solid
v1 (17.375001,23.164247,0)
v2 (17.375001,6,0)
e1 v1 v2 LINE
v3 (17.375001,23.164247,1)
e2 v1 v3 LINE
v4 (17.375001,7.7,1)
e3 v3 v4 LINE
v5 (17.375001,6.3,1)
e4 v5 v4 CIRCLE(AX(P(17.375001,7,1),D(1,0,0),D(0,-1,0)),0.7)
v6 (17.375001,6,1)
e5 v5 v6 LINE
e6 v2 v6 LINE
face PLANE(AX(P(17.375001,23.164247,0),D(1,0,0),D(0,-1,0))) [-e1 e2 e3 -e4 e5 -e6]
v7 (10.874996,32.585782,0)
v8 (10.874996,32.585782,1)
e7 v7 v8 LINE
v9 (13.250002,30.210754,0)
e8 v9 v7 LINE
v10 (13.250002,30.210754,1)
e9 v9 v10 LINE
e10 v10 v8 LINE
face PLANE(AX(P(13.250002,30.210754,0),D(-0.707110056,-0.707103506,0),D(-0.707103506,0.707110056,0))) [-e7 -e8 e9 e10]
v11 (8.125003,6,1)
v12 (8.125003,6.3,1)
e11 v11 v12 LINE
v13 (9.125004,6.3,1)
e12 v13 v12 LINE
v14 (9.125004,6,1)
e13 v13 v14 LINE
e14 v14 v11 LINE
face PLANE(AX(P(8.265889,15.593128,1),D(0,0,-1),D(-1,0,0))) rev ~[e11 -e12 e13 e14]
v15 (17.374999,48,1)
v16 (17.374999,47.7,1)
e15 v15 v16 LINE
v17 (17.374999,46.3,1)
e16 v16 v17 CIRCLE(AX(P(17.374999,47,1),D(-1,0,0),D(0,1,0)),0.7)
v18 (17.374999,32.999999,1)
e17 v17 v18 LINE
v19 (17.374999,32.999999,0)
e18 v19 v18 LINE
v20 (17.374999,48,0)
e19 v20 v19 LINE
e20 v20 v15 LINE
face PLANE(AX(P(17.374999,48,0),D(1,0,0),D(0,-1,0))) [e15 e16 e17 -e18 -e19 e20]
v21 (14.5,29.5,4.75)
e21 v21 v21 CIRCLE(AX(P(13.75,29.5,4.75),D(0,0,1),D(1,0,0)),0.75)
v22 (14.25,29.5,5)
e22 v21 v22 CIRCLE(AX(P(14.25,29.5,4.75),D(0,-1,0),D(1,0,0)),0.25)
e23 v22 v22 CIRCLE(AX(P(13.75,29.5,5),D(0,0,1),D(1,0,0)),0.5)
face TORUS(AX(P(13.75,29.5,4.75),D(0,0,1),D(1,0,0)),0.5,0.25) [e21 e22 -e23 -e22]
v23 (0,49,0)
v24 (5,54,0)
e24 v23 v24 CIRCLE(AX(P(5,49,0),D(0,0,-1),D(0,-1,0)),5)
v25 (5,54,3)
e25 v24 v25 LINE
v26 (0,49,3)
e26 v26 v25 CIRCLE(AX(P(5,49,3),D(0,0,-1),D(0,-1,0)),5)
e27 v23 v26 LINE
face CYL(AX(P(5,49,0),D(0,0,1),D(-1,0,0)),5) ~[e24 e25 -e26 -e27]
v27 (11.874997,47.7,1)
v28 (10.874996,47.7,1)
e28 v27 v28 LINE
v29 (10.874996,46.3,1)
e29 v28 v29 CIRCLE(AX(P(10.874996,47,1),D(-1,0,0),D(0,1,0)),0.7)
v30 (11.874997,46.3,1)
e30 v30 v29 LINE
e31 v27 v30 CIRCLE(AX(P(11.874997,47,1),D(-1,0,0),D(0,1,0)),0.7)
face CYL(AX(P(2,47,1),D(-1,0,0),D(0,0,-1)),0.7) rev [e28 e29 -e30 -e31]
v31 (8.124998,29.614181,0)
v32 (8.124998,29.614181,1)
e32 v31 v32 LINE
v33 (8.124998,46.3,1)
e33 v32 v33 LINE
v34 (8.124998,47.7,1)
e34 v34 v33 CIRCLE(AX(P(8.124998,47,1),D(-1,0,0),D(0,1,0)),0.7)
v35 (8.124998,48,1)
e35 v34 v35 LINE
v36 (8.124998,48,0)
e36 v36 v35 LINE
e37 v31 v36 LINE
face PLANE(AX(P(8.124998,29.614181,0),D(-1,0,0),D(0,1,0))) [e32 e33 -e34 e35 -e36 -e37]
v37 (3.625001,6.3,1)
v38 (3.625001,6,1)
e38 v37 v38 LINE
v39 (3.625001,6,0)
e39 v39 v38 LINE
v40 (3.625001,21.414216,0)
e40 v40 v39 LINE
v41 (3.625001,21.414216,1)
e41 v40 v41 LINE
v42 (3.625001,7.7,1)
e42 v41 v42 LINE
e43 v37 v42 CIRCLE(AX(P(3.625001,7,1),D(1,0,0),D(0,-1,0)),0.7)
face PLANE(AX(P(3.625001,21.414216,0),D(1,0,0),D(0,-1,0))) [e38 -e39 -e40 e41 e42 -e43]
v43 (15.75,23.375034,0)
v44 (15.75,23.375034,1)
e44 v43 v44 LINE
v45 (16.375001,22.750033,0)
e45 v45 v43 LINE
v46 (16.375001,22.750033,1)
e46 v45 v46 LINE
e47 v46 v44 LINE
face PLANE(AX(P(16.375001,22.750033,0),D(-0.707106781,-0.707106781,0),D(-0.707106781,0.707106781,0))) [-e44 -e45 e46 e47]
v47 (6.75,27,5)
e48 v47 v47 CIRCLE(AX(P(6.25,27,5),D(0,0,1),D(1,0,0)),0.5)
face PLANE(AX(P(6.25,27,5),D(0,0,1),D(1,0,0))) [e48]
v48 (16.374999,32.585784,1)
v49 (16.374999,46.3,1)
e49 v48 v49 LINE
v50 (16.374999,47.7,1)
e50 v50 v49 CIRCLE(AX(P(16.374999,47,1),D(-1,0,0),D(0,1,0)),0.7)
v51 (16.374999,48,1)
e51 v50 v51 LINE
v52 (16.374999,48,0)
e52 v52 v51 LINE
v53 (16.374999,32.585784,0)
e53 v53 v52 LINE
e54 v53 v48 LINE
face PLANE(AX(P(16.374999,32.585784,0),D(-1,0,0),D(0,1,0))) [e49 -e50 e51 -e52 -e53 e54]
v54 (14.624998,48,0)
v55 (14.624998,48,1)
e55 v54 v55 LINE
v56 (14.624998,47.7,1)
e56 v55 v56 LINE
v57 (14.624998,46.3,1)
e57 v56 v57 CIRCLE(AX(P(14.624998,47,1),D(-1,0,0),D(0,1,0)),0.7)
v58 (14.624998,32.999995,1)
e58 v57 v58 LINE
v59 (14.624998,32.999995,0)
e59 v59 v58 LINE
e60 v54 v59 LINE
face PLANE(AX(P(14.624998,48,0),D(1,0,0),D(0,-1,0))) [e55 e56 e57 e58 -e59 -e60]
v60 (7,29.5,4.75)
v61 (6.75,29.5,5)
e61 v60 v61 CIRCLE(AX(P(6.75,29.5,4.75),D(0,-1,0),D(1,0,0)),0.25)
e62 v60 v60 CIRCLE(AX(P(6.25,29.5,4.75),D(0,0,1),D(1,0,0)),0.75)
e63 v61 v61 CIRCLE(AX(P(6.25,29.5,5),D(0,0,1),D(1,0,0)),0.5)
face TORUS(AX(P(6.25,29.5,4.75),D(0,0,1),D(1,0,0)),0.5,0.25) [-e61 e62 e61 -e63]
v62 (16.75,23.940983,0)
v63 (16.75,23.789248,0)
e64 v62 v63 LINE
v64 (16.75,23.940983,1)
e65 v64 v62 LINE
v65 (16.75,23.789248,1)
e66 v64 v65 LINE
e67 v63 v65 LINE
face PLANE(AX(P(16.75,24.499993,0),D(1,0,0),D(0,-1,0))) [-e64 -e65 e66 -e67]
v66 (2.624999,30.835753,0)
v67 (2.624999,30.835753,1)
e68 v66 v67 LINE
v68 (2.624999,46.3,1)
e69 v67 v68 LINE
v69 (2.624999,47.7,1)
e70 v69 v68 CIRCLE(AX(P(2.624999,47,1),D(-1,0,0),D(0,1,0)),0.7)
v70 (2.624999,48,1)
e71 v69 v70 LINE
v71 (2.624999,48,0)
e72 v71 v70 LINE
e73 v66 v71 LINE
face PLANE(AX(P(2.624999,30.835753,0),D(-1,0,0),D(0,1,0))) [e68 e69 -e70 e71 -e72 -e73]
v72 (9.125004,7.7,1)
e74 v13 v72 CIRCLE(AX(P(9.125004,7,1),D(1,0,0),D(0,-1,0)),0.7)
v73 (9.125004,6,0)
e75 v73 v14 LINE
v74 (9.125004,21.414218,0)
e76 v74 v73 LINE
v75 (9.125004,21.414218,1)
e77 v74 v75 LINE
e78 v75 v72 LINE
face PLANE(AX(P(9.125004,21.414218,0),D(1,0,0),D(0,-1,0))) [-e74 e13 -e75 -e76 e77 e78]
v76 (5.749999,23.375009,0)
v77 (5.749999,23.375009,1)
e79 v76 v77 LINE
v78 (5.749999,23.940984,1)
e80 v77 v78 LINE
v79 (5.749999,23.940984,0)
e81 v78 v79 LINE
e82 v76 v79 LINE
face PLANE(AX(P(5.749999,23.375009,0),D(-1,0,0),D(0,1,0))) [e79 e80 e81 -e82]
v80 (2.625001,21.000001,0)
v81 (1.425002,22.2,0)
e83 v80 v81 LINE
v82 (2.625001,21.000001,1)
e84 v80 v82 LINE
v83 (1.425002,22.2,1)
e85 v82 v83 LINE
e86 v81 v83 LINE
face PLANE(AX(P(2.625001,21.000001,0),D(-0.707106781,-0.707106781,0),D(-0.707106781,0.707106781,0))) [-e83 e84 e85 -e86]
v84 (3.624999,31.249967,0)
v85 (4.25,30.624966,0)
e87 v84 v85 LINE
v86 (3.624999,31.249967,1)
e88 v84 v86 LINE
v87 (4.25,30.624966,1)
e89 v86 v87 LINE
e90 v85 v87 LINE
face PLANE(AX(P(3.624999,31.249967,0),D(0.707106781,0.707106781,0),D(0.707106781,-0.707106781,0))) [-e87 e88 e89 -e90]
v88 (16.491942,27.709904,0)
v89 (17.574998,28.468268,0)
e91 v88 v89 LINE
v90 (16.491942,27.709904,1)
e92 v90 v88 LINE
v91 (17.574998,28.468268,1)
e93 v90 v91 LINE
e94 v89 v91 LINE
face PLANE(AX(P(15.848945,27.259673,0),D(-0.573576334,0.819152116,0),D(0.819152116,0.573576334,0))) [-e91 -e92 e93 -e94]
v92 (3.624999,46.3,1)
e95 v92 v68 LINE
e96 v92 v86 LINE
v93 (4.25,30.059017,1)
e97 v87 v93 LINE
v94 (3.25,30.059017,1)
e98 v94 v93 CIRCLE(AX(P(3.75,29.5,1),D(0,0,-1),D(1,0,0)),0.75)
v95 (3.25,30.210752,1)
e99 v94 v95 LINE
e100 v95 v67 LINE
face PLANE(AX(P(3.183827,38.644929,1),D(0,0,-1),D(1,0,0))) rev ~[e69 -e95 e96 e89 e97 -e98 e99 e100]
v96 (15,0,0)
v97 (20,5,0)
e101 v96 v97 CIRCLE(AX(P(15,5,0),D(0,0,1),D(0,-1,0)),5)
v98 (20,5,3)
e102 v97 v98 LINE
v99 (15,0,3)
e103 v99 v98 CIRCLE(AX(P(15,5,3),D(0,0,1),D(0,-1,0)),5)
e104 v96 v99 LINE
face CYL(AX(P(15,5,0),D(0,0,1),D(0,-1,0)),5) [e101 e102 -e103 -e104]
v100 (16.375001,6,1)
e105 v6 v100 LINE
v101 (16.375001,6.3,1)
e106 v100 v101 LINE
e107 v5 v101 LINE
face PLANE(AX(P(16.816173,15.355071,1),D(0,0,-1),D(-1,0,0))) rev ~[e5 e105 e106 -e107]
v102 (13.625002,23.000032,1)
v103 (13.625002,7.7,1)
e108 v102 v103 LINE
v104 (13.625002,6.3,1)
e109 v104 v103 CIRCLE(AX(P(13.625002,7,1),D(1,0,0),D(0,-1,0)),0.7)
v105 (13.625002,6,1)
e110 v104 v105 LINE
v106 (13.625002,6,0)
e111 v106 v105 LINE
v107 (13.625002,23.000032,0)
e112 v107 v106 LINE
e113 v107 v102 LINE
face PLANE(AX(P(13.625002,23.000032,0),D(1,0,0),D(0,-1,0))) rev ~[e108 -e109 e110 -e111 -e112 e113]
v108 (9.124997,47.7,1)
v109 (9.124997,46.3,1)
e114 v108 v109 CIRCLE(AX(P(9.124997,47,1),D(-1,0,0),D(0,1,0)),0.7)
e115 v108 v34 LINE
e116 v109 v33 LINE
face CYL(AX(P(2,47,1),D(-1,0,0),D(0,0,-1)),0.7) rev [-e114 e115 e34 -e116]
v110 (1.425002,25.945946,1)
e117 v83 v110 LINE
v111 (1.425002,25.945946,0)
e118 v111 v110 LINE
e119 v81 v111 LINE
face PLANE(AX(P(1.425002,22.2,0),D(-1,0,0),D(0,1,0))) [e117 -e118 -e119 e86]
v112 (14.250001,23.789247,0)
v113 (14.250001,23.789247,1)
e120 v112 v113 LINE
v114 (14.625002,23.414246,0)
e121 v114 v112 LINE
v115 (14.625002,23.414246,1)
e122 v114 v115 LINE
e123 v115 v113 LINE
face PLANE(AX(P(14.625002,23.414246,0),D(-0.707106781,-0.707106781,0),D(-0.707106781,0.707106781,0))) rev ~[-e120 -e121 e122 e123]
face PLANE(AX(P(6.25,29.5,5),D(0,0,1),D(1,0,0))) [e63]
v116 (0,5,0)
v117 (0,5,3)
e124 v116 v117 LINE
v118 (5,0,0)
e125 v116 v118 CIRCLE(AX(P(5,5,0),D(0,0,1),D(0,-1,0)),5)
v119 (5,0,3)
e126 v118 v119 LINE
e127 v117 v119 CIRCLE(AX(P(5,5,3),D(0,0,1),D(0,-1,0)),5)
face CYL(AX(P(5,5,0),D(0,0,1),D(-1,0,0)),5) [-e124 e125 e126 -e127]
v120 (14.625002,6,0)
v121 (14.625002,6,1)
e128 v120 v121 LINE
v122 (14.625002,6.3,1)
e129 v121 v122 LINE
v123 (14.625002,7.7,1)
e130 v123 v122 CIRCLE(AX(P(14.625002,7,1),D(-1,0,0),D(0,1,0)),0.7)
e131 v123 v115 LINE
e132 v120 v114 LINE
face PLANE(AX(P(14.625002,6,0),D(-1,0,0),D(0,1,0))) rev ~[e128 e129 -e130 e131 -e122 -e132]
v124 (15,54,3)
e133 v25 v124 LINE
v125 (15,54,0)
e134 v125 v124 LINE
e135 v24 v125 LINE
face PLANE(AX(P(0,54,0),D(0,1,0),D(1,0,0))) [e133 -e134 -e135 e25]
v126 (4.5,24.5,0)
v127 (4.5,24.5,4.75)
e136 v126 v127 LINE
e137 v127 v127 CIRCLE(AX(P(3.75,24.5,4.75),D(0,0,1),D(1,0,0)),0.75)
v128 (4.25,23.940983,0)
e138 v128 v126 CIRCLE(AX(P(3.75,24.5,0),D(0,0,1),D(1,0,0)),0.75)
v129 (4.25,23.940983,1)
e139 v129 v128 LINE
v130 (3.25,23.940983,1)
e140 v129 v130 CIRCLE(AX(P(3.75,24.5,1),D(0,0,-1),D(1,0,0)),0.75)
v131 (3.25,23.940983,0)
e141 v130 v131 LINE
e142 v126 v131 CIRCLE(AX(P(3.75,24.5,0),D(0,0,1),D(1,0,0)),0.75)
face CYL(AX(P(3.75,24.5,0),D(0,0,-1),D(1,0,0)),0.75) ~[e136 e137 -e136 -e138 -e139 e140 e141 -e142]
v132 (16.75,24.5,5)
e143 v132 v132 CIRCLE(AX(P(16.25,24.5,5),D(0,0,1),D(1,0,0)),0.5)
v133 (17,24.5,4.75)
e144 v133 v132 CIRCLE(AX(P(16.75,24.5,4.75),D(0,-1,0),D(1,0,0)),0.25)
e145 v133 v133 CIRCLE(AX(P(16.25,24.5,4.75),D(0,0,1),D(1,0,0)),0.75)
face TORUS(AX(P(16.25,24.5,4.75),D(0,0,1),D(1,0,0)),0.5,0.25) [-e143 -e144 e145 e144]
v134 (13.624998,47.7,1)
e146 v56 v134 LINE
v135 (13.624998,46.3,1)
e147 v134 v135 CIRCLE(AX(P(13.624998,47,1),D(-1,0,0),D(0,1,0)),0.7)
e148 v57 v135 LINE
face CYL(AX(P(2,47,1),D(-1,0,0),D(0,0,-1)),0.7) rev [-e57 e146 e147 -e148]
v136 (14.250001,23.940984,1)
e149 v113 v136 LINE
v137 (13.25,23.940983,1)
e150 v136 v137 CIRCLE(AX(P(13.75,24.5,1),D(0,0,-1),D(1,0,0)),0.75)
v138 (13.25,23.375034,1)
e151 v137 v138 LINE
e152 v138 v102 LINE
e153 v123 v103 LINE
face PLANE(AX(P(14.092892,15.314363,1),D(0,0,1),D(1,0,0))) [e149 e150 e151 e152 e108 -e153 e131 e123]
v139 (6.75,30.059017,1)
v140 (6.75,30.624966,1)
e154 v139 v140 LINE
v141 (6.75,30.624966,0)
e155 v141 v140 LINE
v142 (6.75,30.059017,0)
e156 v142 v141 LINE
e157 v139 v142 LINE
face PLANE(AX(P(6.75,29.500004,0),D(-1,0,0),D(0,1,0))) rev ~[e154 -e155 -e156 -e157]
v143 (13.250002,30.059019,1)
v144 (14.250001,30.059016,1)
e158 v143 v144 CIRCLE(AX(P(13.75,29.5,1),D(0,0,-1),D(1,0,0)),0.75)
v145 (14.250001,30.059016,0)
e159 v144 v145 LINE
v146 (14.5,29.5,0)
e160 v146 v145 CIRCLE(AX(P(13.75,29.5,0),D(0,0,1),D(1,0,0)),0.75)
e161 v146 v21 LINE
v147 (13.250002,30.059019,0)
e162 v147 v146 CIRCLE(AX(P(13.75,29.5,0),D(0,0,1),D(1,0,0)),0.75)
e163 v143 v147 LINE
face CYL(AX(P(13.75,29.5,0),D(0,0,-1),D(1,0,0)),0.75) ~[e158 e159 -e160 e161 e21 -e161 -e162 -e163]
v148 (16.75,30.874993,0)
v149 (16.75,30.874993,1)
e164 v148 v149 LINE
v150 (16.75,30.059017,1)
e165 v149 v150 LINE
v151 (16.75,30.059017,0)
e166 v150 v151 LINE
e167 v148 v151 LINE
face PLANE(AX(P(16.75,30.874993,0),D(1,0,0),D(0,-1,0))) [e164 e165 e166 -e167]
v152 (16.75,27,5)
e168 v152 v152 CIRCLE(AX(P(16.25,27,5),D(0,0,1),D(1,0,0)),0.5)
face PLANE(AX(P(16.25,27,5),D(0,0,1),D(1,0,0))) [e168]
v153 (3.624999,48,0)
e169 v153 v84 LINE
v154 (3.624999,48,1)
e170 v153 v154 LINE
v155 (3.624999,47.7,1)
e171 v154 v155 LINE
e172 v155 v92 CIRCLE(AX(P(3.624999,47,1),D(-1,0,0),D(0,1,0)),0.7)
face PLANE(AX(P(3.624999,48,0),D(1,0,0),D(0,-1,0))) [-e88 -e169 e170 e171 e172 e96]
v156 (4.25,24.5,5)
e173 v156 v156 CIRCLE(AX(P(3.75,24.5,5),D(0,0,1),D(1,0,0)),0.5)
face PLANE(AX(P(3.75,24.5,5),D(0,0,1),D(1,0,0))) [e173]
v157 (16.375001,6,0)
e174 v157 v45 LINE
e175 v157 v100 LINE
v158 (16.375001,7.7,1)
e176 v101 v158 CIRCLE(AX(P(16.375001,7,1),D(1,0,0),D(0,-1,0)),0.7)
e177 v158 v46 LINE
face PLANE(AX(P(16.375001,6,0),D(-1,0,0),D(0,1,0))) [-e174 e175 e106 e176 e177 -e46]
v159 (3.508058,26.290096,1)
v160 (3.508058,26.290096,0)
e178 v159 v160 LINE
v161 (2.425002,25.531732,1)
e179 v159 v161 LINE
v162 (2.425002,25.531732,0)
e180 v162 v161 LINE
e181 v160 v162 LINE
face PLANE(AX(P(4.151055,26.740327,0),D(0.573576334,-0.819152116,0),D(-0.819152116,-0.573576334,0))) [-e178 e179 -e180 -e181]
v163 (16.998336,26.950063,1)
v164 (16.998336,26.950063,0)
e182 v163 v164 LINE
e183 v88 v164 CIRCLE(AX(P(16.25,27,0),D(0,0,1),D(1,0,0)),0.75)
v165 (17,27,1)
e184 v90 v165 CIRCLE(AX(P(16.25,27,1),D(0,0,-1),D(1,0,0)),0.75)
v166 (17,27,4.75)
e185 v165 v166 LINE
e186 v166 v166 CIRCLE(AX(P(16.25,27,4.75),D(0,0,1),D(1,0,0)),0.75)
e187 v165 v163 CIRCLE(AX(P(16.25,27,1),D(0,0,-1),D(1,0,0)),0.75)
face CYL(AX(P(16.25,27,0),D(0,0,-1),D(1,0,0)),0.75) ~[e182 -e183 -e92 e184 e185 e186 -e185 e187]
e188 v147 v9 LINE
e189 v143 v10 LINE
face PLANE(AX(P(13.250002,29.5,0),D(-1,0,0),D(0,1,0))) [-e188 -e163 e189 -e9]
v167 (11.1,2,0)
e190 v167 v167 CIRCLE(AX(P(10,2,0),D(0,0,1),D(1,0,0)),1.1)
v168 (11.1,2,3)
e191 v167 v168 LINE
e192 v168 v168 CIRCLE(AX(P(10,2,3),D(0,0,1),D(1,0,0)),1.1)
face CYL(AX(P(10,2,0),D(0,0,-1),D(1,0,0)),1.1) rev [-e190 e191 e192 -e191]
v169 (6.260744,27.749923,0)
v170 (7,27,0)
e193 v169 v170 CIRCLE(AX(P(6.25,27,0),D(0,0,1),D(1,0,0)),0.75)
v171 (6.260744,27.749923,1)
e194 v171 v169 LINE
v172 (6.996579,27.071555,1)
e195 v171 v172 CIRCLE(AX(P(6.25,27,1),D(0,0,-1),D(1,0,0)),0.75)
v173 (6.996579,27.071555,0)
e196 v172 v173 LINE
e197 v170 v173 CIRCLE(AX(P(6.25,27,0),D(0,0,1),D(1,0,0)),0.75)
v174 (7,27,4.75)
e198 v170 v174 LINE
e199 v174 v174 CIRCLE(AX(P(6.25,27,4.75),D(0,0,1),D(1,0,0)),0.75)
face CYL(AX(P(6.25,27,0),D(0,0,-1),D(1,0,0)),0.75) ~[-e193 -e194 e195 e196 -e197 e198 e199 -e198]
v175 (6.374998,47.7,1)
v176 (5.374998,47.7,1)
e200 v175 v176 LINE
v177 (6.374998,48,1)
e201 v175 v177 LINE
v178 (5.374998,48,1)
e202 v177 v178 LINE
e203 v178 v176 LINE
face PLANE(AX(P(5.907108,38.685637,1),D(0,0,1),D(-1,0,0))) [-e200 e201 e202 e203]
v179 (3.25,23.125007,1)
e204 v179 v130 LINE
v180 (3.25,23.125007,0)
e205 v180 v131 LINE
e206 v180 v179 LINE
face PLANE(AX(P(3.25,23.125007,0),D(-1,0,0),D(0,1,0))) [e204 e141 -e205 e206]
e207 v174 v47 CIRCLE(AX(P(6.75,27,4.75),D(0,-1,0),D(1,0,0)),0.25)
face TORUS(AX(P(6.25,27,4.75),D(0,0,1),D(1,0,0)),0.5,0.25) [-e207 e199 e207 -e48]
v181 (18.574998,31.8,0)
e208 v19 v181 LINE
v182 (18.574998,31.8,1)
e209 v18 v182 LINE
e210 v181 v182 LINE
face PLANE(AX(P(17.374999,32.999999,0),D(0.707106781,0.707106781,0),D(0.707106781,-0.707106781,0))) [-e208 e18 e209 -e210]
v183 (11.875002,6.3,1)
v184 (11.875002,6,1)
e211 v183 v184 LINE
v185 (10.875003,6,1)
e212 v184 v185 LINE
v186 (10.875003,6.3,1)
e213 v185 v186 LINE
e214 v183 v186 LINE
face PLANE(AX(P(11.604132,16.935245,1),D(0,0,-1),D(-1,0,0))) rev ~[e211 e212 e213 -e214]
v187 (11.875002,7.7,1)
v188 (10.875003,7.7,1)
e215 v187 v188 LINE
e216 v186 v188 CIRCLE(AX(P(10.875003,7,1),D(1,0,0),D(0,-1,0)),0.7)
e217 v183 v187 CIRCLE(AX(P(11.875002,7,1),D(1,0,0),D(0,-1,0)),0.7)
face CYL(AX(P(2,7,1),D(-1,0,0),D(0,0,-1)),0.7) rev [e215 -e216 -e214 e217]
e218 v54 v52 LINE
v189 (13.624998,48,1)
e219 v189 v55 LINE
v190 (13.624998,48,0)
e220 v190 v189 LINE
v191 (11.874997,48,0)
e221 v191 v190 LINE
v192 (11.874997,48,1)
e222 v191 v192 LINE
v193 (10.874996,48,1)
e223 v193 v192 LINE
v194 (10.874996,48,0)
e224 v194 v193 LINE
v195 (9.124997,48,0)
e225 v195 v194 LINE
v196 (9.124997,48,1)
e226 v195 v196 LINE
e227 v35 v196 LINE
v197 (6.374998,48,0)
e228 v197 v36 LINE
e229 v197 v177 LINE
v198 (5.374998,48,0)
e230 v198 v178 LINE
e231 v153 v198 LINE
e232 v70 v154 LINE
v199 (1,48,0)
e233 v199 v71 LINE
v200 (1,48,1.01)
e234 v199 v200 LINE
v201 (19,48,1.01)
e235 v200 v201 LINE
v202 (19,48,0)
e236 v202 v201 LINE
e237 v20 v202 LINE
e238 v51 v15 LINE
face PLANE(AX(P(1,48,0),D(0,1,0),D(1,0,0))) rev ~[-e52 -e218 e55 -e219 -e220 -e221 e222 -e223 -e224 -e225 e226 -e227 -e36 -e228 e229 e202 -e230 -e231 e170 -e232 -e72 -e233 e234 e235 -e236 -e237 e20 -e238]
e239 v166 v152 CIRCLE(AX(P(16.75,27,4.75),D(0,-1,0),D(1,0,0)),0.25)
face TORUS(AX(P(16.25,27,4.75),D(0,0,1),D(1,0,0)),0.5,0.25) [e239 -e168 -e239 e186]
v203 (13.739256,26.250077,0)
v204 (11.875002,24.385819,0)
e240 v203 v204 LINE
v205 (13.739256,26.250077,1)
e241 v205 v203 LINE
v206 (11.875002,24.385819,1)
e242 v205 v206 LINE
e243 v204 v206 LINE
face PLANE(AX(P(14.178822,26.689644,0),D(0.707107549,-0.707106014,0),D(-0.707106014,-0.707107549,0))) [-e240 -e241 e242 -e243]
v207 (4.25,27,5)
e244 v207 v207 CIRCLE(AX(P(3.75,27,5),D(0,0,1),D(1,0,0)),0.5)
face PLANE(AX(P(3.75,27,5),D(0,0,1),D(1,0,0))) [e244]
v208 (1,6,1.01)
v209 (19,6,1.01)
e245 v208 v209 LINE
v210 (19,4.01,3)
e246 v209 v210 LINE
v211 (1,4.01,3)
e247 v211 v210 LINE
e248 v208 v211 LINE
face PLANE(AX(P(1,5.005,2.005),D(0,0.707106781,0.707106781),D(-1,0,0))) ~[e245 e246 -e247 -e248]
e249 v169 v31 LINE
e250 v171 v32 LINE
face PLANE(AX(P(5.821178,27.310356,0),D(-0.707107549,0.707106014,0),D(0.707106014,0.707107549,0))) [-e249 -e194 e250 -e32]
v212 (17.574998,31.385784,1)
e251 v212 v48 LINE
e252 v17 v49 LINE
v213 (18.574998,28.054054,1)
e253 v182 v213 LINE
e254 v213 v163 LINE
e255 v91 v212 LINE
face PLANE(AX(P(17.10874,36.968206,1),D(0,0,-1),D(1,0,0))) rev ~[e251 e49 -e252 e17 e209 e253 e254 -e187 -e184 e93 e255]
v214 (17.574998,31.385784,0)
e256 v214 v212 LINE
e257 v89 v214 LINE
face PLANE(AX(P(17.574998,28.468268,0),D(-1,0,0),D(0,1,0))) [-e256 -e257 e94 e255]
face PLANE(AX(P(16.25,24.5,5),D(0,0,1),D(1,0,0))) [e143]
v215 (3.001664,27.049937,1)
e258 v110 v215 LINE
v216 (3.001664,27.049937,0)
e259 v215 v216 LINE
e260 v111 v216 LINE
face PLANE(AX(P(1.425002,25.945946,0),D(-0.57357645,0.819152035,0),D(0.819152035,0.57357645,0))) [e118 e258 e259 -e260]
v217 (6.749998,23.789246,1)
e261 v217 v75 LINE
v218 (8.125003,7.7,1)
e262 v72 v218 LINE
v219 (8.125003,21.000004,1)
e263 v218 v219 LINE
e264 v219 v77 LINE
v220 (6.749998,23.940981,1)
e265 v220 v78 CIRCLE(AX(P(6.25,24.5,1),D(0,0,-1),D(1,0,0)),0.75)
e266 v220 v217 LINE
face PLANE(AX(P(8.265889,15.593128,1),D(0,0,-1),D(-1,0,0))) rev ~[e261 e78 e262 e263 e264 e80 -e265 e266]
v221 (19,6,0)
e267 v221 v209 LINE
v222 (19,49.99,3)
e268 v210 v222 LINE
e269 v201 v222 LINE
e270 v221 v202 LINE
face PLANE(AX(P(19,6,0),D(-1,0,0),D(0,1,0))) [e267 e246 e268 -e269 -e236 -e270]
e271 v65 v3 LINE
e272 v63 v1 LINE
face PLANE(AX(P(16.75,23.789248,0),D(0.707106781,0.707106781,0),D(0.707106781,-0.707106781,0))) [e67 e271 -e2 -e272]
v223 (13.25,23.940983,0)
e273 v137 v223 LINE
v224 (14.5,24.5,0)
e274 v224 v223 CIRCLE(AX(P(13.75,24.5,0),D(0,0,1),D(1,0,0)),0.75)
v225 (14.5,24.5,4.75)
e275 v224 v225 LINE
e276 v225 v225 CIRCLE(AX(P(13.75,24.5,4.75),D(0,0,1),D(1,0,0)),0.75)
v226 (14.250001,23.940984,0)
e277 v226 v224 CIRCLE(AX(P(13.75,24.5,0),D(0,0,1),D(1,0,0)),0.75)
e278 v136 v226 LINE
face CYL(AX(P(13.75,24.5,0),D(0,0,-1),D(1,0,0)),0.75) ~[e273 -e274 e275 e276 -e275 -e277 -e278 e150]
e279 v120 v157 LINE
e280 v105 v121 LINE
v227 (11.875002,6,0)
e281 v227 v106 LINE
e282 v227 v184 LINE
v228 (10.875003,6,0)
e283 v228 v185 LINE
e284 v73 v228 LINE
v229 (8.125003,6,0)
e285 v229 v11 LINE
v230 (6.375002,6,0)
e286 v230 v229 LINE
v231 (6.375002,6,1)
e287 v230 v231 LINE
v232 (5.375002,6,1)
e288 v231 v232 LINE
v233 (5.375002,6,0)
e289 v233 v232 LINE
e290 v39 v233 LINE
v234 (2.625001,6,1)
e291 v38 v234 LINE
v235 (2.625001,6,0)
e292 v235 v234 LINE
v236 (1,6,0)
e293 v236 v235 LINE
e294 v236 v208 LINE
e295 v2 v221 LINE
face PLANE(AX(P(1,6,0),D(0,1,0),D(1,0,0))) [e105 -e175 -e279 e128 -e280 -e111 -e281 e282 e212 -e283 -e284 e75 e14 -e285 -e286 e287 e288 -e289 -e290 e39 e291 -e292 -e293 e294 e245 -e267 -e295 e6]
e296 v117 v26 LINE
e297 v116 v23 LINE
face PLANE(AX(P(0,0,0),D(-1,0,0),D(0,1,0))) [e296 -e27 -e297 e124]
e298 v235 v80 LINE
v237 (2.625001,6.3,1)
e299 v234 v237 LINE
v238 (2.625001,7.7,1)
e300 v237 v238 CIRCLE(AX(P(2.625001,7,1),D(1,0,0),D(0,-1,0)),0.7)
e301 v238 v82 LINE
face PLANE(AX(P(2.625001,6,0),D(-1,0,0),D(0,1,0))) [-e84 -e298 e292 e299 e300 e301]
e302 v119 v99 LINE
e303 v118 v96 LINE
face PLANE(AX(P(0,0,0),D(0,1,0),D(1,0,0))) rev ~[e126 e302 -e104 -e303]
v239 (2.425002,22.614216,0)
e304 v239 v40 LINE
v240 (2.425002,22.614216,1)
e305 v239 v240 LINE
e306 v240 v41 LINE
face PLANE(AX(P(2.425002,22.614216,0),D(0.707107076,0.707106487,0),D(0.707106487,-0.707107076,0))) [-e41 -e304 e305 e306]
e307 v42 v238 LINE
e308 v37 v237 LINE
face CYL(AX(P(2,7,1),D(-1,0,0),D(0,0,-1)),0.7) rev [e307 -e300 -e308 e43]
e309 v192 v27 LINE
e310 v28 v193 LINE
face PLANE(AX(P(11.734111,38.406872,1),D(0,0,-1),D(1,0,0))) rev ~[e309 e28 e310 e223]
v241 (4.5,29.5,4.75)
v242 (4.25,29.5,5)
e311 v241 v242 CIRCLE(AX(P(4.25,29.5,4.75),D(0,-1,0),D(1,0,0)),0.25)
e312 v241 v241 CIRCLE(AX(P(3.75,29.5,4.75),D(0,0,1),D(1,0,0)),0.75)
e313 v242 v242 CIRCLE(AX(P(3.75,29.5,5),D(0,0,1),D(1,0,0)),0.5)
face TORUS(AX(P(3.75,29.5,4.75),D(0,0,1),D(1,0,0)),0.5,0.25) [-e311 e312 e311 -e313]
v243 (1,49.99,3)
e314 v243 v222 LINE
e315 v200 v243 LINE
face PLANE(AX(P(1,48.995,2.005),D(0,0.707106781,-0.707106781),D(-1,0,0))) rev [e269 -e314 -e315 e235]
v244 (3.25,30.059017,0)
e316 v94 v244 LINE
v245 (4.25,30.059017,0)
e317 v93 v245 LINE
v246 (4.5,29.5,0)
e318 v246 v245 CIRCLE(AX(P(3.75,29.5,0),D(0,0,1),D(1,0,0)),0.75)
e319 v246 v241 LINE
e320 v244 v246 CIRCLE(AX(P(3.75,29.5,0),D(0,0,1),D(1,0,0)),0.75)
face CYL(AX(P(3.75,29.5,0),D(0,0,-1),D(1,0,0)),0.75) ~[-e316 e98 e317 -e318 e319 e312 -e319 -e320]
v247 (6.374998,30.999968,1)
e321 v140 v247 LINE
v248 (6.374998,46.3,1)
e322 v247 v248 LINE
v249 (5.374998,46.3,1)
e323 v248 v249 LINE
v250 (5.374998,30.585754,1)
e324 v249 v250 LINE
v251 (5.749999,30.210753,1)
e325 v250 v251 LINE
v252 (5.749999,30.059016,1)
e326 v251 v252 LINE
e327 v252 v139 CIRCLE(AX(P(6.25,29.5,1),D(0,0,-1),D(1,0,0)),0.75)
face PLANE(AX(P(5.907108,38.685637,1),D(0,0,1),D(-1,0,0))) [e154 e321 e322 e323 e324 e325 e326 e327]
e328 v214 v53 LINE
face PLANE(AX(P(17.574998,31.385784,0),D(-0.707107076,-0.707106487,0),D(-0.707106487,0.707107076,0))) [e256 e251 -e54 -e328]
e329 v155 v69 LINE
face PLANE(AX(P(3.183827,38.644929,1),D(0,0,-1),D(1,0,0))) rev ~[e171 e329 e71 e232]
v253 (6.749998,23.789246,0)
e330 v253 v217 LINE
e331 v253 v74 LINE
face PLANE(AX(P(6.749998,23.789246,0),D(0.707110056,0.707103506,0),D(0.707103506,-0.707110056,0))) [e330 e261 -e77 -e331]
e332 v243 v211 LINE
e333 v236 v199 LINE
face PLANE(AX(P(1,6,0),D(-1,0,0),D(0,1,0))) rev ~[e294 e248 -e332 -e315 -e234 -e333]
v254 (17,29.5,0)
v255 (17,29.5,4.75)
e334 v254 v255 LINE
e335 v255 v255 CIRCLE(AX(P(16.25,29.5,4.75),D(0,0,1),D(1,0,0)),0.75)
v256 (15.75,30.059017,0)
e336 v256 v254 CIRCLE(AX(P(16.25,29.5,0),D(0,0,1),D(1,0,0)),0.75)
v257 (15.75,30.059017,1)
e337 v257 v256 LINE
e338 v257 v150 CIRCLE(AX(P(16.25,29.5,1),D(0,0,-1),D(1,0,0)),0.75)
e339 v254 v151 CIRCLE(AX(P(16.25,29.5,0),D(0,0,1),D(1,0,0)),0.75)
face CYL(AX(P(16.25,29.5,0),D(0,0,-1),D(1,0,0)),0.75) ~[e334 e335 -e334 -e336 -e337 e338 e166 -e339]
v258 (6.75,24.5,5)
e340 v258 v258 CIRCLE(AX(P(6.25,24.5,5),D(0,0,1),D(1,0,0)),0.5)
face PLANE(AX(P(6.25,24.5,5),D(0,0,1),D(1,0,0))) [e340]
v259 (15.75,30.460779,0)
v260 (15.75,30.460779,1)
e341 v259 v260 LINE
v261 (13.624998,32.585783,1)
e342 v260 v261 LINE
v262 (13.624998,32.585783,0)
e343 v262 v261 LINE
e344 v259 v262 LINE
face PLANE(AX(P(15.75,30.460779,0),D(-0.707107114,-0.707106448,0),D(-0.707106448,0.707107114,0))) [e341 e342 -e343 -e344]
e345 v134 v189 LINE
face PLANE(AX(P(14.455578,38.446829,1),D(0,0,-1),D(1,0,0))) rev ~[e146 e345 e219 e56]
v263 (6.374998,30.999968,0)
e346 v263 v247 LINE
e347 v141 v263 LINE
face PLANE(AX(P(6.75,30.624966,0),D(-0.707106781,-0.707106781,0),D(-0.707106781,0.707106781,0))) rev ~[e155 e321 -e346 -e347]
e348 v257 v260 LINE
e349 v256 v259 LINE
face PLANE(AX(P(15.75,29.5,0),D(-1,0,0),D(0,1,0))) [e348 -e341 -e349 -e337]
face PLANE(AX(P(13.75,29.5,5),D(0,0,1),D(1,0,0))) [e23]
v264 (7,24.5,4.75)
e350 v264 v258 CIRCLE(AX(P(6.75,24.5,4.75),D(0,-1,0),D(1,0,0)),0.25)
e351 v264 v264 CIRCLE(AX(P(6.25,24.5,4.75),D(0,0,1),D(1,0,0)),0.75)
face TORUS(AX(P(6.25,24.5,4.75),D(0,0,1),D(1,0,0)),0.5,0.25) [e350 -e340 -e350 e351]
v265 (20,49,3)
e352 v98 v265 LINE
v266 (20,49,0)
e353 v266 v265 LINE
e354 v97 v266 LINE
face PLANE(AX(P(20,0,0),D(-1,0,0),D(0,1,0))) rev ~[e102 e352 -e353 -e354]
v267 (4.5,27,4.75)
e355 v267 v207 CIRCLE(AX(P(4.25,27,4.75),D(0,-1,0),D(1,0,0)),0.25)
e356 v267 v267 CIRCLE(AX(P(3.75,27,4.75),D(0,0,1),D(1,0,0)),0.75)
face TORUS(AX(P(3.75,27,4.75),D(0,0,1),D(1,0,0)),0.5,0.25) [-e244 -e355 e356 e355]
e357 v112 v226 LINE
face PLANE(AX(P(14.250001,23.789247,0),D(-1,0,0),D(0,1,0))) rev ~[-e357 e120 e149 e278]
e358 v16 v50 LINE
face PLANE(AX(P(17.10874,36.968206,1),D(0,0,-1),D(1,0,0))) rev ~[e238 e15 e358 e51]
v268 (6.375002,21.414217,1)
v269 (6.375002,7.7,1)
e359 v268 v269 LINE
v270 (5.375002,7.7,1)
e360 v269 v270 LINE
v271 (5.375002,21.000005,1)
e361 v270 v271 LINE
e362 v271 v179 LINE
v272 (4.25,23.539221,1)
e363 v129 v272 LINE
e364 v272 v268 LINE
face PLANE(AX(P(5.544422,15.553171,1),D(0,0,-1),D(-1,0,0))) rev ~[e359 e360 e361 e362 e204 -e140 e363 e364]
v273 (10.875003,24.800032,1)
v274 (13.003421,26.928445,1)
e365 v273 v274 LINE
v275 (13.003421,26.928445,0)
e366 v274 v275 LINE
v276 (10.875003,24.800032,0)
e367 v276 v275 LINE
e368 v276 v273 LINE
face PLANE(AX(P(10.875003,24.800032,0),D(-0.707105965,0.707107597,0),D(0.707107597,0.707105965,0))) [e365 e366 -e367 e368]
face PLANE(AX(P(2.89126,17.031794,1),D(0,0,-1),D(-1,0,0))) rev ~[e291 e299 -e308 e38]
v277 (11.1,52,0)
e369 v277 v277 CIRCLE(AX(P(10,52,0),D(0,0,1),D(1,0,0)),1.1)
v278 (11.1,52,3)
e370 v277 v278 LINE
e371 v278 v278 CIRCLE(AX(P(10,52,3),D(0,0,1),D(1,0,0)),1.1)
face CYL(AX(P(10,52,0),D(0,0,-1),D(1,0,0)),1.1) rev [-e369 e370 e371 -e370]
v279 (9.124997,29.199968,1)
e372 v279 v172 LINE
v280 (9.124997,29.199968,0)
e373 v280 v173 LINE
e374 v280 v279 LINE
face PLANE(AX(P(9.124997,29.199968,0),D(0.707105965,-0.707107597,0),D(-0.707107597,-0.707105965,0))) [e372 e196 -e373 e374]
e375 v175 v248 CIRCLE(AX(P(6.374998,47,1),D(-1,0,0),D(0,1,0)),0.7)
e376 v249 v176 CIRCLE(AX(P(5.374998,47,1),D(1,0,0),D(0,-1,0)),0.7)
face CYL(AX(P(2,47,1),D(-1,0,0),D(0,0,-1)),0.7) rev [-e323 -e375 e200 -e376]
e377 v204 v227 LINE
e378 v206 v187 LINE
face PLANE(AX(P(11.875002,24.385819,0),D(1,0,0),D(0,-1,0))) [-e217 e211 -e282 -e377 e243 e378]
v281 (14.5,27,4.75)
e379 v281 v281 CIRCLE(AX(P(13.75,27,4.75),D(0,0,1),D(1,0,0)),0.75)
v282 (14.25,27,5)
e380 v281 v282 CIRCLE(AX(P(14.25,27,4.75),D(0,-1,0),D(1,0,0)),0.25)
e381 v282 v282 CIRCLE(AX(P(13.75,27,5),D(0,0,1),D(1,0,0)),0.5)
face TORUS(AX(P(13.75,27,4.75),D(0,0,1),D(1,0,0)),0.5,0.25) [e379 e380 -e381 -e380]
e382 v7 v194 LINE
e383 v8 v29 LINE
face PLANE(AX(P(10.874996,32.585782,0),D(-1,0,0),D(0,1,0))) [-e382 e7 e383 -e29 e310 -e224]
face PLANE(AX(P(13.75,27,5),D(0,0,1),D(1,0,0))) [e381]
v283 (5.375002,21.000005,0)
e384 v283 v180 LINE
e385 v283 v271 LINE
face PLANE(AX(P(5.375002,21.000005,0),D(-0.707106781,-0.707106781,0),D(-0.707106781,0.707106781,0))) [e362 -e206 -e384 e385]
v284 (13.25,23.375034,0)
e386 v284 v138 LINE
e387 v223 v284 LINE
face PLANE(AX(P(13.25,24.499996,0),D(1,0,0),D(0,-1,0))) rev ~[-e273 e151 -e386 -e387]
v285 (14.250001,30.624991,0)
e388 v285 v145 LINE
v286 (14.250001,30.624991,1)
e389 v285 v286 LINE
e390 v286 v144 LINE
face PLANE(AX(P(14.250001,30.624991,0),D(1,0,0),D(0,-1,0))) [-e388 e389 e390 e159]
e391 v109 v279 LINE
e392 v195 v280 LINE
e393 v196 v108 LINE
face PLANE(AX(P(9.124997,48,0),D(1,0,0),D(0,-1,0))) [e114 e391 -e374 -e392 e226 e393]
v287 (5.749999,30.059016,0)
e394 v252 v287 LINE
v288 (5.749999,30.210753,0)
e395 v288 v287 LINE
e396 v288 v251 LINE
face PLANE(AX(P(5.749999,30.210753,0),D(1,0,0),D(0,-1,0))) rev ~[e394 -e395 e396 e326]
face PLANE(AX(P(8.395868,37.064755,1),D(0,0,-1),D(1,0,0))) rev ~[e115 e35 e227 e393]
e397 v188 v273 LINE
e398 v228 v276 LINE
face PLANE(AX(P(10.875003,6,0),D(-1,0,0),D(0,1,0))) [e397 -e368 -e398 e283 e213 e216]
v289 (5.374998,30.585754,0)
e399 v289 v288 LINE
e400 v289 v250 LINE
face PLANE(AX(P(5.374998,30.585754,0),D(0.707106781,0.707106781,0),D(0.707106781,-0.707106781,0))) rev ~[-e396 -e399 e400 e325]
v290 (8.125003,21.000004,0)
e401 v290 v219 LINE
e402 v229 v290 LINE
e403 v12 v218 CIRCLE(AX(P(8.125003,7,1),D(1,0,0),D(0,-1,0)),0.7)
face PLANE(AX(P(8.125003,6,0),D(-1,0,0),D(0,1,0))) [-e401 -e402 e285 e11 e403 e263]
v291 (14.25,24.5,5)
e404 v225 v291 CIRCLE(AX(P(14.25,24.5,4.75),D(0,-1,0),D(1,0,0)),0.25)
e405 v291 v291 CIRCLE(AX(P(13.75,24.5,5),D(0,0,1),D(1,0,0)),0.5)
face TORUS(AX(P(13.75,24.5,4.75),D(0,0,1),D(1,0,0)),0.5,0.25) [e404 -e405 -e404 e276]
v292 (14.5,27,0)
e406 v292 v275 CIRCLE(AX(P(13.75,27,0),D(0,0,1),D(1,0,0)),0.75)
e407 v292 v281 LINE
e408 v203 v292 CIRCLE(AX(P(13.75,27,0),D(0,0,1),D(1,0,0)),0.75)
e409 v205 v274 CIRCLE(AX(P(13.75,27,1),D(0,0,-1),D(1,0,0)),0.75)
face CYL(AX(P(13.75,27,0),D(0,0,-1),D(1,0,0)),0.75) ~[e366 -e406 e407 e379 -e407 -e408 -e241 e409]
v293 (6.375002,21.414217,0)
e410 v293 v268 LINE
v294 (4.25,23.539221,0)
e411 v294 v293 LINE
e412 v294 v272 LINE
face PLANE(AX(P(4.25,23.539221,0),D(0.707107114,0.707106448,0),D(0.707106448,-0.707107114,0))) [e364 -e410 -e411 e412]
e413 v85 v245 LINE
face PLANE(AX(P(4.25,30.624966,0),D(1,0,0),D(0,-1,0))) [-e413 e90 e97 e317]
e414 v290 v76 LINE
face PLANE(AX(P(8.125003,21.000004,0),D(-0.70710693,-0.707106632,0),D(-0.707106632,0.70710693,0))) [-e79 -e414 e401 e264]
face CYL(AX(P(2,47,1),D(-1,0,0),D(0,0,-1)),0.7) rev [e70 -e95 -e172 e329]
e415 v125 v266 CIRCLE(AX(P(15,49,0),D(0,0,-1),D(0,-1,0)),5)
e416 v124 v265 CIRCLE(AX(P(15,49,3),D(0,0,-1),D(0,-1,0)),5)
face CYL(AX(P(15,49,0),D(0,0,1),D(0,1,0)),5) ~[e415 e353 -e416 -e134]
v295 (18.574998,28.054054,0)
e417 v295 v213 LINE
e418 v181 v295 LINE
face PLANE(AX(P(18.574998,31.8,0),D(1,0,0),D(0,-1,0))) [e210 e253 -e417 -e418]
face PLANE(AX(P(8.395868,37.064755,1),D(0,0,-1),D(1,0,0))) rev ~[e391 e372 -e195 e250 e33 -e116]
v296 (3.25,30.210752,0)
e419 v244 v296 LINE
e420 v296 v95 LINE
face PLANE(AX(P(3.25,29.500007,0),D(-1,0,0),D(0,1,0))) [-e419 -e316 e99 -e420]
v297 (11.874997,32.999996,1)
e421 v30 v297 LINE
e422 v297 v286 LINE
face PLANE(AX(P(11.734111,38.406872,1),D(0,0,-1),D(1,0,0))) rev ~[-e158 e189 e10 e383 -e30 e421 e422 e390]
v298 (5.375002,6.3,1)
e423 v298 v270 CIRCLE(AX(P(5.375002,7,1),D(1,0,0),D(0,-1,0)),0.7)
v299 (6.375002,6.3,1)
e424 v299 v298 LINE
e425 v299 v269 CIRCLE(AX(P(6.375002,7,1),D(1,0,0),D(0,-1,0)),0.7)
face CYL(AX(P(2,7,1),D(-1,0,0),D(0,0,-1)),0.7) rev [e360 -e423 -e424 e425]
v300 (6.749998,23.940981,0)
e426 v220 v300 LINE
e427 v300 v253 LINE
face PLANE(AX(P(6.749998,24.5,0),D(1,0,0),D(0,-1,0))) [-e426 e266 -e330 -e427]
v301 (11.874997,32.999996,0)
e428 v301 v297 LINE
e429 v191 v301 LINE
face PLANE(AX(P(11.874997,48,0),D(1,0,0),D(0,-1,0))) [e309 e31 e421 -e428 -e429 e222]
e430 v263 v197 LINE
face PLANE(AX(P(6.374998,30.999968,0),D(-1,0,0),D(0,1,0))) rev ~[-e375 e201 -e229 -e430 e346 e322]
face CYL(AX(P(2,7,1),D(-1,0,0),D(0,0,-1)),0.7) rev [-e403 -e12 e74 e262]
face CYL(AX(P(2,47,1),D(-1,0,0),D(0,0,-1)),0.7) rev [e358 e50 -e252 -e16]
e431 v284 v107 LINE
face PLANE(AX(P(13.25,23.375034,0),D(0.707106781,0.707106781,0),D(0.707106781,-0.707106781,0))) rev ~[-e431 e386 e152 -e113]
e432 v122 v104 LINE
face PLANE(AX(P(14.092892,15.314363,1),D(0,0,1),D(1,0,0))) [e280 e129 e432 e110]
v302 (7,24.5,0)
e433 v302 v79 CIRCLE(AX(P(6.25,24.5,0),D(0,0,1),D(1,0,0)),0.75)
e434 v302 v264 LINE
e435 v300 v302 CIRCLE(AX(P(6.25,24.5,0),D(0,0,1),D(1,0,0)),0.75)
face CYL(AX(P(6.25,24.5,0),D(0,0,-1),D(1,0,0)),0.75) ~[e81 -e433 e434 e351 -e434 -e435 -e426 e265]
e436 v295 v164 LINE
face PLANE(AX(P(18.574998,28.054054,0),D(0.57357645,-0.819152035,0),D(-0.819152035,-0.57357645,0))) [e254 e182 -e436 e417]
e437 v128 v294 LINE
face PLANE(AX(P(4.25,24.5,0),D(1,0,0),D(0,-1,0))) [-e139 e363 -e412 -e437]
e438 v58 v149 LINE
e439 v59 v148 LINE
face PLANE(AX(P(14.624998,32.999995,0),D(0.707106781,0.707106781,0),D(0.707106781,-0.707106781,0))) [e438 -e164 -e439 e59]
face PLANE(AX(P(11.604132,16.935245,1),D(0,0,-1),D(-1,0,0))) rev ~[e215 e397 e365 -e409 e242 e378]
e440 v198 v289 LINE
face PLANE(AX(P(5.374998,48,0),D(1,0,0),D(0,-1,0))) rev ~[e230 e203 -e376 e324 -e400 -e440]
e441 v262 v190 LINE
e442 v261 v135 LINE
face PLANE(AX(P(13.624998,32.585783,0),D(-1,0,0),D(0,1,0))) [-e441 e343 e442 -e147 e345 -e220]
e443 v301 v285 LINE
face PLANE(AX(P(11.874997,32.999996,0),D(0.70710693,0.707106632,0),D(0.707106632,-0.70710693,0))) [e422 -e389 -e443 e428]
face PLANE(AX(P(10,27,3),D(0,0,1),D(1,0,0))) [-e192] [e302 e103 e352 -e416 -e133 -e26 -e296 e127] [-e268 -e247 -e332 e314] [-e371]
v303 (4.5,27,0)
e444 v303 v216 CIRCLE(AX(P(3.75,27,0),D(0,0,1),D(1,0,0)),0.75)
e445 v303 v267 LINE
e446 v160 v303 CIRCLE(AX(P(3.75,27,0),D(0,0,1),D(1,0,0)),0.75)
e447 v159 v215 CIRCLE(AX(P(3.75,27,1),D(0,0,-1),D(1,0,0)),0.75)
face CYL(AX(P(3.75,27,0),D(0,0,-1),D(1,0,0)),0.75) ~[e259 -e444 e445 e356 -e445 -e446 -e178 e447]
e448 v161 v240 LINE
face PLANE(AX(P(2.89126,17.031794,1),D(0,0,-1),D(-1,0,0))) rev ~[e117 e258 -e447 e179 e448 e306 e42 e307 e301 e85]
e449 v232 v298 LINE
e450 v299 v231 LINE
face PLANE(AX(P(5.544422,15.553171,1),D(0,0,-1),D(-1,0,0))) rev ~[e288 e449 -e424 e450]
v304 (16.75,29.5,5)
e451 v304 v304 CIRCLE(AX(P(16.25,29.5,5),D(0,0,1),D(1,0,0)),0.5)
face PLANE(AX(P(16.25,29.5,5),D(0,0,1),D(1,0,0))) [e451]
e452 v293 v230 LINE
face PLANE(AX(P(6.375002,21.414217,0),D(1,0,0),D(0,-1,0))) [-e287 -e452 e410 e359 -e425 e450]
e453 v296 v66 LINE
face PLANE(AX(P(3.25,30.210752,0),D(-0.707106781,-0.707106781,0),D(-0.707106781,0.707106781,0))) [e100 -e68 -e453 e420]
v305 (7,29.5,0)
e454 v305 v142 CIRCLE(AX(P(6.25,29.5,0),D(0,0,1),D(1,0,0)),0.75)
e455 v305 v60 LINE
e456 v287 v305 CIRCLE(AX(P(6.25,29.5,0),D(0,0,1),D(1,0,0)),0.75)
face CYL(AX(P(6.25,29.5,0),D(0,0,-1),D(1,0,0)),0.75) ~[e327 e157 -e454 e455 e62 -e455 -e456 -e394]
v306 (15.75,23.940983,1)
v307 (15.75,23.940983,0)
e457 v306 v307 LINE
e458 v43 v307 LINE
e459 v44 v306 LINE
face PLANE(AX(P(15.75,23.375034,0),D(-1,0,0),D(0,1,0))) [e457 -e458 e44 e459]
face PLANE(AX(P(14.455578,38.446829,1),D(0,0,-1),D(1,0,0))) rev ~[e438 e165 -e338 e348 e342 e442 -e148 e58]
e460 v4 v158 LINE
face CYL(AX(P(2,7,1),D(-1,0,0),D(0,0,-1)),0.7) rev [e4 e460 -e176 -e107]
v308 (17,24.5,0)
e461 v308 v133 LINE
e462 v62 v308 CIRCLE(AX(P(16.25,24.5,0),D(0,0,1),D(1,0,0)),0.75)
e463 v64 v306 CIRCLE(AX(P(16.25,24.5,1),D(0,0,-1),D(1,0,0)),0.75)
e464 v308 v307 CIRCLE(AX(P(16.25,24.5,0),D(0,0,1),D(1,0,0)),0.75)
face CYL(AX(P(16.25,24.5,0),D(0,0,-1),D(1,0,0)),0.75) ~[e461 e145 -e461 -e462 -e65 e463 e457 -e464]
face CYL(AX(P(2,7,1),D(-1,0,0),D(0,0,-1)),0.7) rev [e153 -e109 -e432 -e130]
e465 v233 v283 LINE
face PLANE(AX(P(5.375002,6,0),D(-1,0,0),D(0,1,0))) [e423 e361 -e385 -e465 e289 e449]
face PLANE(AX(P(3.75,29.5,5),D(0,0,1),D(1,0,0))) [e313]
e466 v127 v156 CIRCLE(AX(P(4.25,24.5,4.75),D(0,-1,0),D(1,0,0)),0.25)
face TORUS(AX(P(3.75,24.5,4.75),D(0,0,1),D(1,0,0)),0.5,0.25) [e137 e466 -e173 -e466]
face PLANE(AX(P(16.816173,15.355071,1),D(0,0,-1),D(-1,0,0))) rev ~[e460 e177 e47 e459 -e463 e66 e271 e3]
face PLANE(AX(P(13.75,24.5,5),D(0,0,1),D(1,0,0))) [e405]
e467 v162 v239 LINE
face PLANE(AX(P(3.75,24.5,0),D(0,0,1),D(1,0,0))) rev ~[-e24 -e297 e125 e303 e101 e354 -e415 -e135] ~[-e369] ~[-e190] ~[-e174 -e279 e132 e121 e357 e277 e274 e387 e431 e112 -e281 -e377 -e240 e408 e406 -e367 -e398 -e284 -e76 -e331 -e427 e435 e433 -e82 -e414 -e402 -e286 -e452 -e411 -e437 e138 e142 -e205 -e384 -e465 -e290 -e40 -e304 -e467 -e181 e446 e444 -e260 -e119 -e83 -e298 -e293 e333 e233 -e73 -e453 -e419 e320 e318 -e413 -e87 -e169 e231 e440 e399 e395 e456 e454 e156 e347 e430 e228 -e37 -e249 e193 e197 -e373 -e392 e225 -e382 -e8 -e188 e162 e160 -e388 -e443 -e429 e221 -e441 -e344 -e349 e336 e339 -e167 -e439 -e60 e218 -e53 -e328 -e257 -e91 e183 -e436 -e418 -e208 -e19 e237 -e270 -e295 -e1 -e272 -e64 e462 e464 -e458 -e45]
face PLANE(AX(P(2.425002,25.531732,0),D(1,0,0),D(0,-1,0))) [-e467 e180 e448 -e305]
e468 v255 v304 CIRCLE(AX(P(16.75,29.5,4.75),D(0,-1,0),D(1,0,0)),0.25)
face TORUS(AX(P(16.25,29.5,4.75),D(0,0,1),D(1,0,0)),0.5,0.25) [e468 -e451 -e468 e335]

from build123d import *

# Parameters (mm, degrees)
CYLINDER_R              = 0.7
CYLINDER_DEPTH          = 16
CYLINDER_PITCH_ANGLE    = 90
CYLINDER001_R           = 0.7
CYLINDER001_DEPTH       = 16
CYLINDER001_PITCH_ANGLE = 90
PAD003_DEPTH            = 1
PAD_DEPTH               = 1
SKETCH001_R             = 0.75
PAD001_DEPTH            = 5
FILLET_R                = 0.25
SKETCH002_W             = 20
SKETCH002_H             = 54
SKETCH002_R             = 1.1
SKETCH002_W_2           = 18
SKETCH002_H_2           = 42
PAD002_DEPTH            = 3
FILLET001_R             = 5
CHAMFER_SIZE            = 1.99


with BuildPart() as zylinder:
    # Cylinder → Cylinder (new body)
    with BuildSketch(Plane.XY):
        Circle(CYLINDER_R)
    extrude(amount=CYLINDER_DEPTH)


with BuildPart() as zylinder_1:
    # Cylinder pitch: moved
    add(zylinder.part.rotate(Axis((0, 0, 0), (0, 1, 0)), CYLINDER_PITCH_ANGLE))


with BuildPart() as zylinder_2:
    # Cylinder placement: moved
    add(zylinder_1.part.moved(Location((2, 47, 1))))


with BuildPart() as fusion001:
    # Cylinder001 → Cylinder001 (new body)
    with BuildSketch(Plane.XY):
        Circle(CYLINDER001_R)
    extrude(amount=CYLINDER001_DEPTH)


with BuildPart() as fusion001_1:
    # Cylinder001 pitch: moved
    add(fusion001.part.rotate(Axis((0, 0, 0), (0, 1, 0)), CYLINDER001_PITCH_ANGLE))


with BuildPart() as fusion001_2:
    # Cylinder001 placement: moved
    add(fusion001_1.part.moved(Location((2, 7, 1))))

    # Fusion001: union Zylinder
    add(zylinder_2.part)


with BuildPart() as pin2:
    # Sketch003 → Pad003 (new body)
    with BuildSketch(Plane(origin=(20, 54, 0), x_dir=(-1, 0, 0), z_dir=(0, 0, 1))):
        Polygon((2.625001, 6), (2.625001, 21.000001), (1.425002, 22.2), (1.425002, 25.945946), (3.425366, 27.346616), (4.151055, 26.740327), (2.425002, 25.531732), (2.425002, 22.614216), (3.625001, 21.414216), (3.625001, 6), align=None)
        Polygon((5.375002, 6), (5.375002, 21.000005), (3.25, 23.125007), (3.25, 24.5), (4.25, 24.5), (4.25, 23.539221), (6.375002, 21.414217), (6.375002, 6), align=None)
        Polygon((8.125003, 6), (8.125003, 21.000004), (5.749999, 23.375009), (5.749999, 24.5), (6.749998, 24.5), (6.749998, 23.789246), (9.125004, 21.414218), (9.125004, 6), align=None)
        Polygon((10.875003, 6), (10.875003, 24.800032), (13.474746, 27.399769), (14.178822, 26.689644), (11.875002, 24.385819), (11.875002, 6), align=None)
        Polygon((16.375001, 6), (16.375001, 22.750033), (15.75, 23.375034), (15.75, 24.499993), (16.75, 24.499993), (16.75, 23.789248), (17.375001, 23.164247), (17.375001, 6), align=None)
        Polygon((13.625002, 6), (14.625002, 6), (14.625002, 23.414246), (14.250001, 23.789247), (14.250001, 24.499996), (13.25, 24.499996), (13.25, 23.375034), (13.625002, 23.000032), align=None)
    extrude(amount=PAD003_DEPTH)


with BuildPart() as cut:
    # Sketch → Pad (new body)
    with BuildSketch(Plane.XY):
        Polygon((2.625001, 6), (2.625001, 21.000001), (1.425002, 22.2), (1.425002, 25.945946), (3.425366, 27.346616), (4.151055, 26.740327), (2.425002, 25.531732), (2.425002, 22.614216), (3.625001, 21.414216), (3.625001, 6), align=None)
        Polygon((5.375002, 6), (5.375002, 21.000005), (3.25, 23.125007), (3.25, 24.5), (4.25, 24.5), (4.25, 23.539221), (6.375002, 21.414217), (6.375002, 6), align=None)
        Polygon((8.125003, 6), (8.125003, 21.000004), (5.749999, 23.375009), (5.749999, 24.5), (6.749998, 24.5), (6.749998, 23.789246), (9.125004, 21.414218), (9.125004, 6), align=None)
        Polygon((10.875003, 6), (10.875003, 24.800032), (13.474746, 27.399769), (14.178822, 26.689644), (11.875002, 24.385819), (11.875002, 6), align=None)
        Polygon((16.375001, 6), (16.375001, 22.750033), (15.75, 23.375034), (15.75, 24.499993), (16.75, 24.499993), (16.75, 23.789248), (17.375001, 23.164247), (17.375001, 6), align=None)
        Polygon((13.625002, 6), (14.625002, 6), (14.625002, 23.414246), (14.250001, 23.789247), (14.250001, 24.499996), (13.25, 24.499996), (13.25, 23.375034), (13.625002, 23.000032), align=None)
    extrude(amount=PAD_DEPTH)

    # Fusion: union PIN2
    add(pin2.part)

    # Cut: cut Fusion001
    add(fusion001_2.part, mode=Mode.SUBTRACT)


with BuildPart() as fillet_body:
    # Sketch001 → Pad001 (new body)
    with BuildSketch(Plane.XY):
        with Locations((3.75, 29.5)):
            Circle(SKETCH001_R)
        with Locations((3.75, 27)):
            Circle(SKETCH001_R)
        with Locations((3.75, 24.5)):
            Circle(SKETCH001_R)
        with Locations((6.25, 29.5)):
            Circle(SKETCH001_R)
        with Locations((6.25, 27)):
            Circle(SKETCH001_R)
        with Locations((6.25, 24.5)):
            Circle(SKETCH001_R)
        with Locations((13.75, 29.5)):
            Circle(SKETCH001_R)
        with Locations((13.75, 27)):
            Circle(SKETCH001_R)
        with Locations((13.75, 24.5)):
            Circle(SKETCH001_R)
        with Locations((16.25, 24.5)):
            Circle(SKETCH001_R)
        with Locations((16.25, 27)):
            Circle(SKETCH001_R)
        with Locations((16.25, 29.5)):
            Circle(SKETCH001_R)
    extrude(amount=PAD001_DEPTH)

    # Fillet
    fillet_edges = [fillet_body.edges().sort_by_distance(p)[0] for p in [
        (3, 24.5, 5),
        (3, 27, 5),
        (3, 29.5, 5),
        (5.5, 29.5, 5),
        (5.5, 27, 5),
        (5.5, 24.5, 5),
        (13, 24.5, 5),
        (15.5, 24.5, 5),
        (15.5, 27, 5),
        (13, 27, 5),
        (13, 29.5, 5),
        (15.5, 29.5, 5),
    ]]
    fillet(fillet_edges, radius=FILLET_R)


with BuildPart() as chamfer_body:
    # Sketch002 → Pad002 (new body)
    with BuildSketch(Plane.XY):
        with Locations((10, 27)):
            Rectangle(SKETCH002_W, SKETCH002_H)
        with Locations((10, 2)):
            Circle(SKETCH002_R, mode=Mode.SUBTRACT)
        with Locations((10, 52)):
            Circle(SKETCH002_R, mode=Mode.SUBTRACT)
        with Locations((10, 27)):
            Rectangle(SKETCH002_W_2, SKETCH002_H_2, mode=Mode.SUBTRACT)
    extrude(amount=PAD002_DEPTH)

    # Fusion002: union Cut, Fillet body
    add(cut.part)
    add(fillet_body.part)

    # Fillet001
    fillet001_edges = [chamfer_body.edges().sort_by_distance(p)[0] for p in [
        (0, 54, 1.5),
        (20, 54, 1.5),
        (20, 0, 1.5),
        (0, 0, 1.5),
    ]]
    fillet(fillet001_edges, radius=FILLET001_R)

    # Chamfer
    chamfer_edges = [chamfer_body.edges().sort_by_distance(p)[0] for p in [
        (10, 48, 3),
        (10, 6, 3),
    ]]
    chamfer(chamfer_edges, length=CHAMFER_SIZE)


solid = chamfer_body.part
